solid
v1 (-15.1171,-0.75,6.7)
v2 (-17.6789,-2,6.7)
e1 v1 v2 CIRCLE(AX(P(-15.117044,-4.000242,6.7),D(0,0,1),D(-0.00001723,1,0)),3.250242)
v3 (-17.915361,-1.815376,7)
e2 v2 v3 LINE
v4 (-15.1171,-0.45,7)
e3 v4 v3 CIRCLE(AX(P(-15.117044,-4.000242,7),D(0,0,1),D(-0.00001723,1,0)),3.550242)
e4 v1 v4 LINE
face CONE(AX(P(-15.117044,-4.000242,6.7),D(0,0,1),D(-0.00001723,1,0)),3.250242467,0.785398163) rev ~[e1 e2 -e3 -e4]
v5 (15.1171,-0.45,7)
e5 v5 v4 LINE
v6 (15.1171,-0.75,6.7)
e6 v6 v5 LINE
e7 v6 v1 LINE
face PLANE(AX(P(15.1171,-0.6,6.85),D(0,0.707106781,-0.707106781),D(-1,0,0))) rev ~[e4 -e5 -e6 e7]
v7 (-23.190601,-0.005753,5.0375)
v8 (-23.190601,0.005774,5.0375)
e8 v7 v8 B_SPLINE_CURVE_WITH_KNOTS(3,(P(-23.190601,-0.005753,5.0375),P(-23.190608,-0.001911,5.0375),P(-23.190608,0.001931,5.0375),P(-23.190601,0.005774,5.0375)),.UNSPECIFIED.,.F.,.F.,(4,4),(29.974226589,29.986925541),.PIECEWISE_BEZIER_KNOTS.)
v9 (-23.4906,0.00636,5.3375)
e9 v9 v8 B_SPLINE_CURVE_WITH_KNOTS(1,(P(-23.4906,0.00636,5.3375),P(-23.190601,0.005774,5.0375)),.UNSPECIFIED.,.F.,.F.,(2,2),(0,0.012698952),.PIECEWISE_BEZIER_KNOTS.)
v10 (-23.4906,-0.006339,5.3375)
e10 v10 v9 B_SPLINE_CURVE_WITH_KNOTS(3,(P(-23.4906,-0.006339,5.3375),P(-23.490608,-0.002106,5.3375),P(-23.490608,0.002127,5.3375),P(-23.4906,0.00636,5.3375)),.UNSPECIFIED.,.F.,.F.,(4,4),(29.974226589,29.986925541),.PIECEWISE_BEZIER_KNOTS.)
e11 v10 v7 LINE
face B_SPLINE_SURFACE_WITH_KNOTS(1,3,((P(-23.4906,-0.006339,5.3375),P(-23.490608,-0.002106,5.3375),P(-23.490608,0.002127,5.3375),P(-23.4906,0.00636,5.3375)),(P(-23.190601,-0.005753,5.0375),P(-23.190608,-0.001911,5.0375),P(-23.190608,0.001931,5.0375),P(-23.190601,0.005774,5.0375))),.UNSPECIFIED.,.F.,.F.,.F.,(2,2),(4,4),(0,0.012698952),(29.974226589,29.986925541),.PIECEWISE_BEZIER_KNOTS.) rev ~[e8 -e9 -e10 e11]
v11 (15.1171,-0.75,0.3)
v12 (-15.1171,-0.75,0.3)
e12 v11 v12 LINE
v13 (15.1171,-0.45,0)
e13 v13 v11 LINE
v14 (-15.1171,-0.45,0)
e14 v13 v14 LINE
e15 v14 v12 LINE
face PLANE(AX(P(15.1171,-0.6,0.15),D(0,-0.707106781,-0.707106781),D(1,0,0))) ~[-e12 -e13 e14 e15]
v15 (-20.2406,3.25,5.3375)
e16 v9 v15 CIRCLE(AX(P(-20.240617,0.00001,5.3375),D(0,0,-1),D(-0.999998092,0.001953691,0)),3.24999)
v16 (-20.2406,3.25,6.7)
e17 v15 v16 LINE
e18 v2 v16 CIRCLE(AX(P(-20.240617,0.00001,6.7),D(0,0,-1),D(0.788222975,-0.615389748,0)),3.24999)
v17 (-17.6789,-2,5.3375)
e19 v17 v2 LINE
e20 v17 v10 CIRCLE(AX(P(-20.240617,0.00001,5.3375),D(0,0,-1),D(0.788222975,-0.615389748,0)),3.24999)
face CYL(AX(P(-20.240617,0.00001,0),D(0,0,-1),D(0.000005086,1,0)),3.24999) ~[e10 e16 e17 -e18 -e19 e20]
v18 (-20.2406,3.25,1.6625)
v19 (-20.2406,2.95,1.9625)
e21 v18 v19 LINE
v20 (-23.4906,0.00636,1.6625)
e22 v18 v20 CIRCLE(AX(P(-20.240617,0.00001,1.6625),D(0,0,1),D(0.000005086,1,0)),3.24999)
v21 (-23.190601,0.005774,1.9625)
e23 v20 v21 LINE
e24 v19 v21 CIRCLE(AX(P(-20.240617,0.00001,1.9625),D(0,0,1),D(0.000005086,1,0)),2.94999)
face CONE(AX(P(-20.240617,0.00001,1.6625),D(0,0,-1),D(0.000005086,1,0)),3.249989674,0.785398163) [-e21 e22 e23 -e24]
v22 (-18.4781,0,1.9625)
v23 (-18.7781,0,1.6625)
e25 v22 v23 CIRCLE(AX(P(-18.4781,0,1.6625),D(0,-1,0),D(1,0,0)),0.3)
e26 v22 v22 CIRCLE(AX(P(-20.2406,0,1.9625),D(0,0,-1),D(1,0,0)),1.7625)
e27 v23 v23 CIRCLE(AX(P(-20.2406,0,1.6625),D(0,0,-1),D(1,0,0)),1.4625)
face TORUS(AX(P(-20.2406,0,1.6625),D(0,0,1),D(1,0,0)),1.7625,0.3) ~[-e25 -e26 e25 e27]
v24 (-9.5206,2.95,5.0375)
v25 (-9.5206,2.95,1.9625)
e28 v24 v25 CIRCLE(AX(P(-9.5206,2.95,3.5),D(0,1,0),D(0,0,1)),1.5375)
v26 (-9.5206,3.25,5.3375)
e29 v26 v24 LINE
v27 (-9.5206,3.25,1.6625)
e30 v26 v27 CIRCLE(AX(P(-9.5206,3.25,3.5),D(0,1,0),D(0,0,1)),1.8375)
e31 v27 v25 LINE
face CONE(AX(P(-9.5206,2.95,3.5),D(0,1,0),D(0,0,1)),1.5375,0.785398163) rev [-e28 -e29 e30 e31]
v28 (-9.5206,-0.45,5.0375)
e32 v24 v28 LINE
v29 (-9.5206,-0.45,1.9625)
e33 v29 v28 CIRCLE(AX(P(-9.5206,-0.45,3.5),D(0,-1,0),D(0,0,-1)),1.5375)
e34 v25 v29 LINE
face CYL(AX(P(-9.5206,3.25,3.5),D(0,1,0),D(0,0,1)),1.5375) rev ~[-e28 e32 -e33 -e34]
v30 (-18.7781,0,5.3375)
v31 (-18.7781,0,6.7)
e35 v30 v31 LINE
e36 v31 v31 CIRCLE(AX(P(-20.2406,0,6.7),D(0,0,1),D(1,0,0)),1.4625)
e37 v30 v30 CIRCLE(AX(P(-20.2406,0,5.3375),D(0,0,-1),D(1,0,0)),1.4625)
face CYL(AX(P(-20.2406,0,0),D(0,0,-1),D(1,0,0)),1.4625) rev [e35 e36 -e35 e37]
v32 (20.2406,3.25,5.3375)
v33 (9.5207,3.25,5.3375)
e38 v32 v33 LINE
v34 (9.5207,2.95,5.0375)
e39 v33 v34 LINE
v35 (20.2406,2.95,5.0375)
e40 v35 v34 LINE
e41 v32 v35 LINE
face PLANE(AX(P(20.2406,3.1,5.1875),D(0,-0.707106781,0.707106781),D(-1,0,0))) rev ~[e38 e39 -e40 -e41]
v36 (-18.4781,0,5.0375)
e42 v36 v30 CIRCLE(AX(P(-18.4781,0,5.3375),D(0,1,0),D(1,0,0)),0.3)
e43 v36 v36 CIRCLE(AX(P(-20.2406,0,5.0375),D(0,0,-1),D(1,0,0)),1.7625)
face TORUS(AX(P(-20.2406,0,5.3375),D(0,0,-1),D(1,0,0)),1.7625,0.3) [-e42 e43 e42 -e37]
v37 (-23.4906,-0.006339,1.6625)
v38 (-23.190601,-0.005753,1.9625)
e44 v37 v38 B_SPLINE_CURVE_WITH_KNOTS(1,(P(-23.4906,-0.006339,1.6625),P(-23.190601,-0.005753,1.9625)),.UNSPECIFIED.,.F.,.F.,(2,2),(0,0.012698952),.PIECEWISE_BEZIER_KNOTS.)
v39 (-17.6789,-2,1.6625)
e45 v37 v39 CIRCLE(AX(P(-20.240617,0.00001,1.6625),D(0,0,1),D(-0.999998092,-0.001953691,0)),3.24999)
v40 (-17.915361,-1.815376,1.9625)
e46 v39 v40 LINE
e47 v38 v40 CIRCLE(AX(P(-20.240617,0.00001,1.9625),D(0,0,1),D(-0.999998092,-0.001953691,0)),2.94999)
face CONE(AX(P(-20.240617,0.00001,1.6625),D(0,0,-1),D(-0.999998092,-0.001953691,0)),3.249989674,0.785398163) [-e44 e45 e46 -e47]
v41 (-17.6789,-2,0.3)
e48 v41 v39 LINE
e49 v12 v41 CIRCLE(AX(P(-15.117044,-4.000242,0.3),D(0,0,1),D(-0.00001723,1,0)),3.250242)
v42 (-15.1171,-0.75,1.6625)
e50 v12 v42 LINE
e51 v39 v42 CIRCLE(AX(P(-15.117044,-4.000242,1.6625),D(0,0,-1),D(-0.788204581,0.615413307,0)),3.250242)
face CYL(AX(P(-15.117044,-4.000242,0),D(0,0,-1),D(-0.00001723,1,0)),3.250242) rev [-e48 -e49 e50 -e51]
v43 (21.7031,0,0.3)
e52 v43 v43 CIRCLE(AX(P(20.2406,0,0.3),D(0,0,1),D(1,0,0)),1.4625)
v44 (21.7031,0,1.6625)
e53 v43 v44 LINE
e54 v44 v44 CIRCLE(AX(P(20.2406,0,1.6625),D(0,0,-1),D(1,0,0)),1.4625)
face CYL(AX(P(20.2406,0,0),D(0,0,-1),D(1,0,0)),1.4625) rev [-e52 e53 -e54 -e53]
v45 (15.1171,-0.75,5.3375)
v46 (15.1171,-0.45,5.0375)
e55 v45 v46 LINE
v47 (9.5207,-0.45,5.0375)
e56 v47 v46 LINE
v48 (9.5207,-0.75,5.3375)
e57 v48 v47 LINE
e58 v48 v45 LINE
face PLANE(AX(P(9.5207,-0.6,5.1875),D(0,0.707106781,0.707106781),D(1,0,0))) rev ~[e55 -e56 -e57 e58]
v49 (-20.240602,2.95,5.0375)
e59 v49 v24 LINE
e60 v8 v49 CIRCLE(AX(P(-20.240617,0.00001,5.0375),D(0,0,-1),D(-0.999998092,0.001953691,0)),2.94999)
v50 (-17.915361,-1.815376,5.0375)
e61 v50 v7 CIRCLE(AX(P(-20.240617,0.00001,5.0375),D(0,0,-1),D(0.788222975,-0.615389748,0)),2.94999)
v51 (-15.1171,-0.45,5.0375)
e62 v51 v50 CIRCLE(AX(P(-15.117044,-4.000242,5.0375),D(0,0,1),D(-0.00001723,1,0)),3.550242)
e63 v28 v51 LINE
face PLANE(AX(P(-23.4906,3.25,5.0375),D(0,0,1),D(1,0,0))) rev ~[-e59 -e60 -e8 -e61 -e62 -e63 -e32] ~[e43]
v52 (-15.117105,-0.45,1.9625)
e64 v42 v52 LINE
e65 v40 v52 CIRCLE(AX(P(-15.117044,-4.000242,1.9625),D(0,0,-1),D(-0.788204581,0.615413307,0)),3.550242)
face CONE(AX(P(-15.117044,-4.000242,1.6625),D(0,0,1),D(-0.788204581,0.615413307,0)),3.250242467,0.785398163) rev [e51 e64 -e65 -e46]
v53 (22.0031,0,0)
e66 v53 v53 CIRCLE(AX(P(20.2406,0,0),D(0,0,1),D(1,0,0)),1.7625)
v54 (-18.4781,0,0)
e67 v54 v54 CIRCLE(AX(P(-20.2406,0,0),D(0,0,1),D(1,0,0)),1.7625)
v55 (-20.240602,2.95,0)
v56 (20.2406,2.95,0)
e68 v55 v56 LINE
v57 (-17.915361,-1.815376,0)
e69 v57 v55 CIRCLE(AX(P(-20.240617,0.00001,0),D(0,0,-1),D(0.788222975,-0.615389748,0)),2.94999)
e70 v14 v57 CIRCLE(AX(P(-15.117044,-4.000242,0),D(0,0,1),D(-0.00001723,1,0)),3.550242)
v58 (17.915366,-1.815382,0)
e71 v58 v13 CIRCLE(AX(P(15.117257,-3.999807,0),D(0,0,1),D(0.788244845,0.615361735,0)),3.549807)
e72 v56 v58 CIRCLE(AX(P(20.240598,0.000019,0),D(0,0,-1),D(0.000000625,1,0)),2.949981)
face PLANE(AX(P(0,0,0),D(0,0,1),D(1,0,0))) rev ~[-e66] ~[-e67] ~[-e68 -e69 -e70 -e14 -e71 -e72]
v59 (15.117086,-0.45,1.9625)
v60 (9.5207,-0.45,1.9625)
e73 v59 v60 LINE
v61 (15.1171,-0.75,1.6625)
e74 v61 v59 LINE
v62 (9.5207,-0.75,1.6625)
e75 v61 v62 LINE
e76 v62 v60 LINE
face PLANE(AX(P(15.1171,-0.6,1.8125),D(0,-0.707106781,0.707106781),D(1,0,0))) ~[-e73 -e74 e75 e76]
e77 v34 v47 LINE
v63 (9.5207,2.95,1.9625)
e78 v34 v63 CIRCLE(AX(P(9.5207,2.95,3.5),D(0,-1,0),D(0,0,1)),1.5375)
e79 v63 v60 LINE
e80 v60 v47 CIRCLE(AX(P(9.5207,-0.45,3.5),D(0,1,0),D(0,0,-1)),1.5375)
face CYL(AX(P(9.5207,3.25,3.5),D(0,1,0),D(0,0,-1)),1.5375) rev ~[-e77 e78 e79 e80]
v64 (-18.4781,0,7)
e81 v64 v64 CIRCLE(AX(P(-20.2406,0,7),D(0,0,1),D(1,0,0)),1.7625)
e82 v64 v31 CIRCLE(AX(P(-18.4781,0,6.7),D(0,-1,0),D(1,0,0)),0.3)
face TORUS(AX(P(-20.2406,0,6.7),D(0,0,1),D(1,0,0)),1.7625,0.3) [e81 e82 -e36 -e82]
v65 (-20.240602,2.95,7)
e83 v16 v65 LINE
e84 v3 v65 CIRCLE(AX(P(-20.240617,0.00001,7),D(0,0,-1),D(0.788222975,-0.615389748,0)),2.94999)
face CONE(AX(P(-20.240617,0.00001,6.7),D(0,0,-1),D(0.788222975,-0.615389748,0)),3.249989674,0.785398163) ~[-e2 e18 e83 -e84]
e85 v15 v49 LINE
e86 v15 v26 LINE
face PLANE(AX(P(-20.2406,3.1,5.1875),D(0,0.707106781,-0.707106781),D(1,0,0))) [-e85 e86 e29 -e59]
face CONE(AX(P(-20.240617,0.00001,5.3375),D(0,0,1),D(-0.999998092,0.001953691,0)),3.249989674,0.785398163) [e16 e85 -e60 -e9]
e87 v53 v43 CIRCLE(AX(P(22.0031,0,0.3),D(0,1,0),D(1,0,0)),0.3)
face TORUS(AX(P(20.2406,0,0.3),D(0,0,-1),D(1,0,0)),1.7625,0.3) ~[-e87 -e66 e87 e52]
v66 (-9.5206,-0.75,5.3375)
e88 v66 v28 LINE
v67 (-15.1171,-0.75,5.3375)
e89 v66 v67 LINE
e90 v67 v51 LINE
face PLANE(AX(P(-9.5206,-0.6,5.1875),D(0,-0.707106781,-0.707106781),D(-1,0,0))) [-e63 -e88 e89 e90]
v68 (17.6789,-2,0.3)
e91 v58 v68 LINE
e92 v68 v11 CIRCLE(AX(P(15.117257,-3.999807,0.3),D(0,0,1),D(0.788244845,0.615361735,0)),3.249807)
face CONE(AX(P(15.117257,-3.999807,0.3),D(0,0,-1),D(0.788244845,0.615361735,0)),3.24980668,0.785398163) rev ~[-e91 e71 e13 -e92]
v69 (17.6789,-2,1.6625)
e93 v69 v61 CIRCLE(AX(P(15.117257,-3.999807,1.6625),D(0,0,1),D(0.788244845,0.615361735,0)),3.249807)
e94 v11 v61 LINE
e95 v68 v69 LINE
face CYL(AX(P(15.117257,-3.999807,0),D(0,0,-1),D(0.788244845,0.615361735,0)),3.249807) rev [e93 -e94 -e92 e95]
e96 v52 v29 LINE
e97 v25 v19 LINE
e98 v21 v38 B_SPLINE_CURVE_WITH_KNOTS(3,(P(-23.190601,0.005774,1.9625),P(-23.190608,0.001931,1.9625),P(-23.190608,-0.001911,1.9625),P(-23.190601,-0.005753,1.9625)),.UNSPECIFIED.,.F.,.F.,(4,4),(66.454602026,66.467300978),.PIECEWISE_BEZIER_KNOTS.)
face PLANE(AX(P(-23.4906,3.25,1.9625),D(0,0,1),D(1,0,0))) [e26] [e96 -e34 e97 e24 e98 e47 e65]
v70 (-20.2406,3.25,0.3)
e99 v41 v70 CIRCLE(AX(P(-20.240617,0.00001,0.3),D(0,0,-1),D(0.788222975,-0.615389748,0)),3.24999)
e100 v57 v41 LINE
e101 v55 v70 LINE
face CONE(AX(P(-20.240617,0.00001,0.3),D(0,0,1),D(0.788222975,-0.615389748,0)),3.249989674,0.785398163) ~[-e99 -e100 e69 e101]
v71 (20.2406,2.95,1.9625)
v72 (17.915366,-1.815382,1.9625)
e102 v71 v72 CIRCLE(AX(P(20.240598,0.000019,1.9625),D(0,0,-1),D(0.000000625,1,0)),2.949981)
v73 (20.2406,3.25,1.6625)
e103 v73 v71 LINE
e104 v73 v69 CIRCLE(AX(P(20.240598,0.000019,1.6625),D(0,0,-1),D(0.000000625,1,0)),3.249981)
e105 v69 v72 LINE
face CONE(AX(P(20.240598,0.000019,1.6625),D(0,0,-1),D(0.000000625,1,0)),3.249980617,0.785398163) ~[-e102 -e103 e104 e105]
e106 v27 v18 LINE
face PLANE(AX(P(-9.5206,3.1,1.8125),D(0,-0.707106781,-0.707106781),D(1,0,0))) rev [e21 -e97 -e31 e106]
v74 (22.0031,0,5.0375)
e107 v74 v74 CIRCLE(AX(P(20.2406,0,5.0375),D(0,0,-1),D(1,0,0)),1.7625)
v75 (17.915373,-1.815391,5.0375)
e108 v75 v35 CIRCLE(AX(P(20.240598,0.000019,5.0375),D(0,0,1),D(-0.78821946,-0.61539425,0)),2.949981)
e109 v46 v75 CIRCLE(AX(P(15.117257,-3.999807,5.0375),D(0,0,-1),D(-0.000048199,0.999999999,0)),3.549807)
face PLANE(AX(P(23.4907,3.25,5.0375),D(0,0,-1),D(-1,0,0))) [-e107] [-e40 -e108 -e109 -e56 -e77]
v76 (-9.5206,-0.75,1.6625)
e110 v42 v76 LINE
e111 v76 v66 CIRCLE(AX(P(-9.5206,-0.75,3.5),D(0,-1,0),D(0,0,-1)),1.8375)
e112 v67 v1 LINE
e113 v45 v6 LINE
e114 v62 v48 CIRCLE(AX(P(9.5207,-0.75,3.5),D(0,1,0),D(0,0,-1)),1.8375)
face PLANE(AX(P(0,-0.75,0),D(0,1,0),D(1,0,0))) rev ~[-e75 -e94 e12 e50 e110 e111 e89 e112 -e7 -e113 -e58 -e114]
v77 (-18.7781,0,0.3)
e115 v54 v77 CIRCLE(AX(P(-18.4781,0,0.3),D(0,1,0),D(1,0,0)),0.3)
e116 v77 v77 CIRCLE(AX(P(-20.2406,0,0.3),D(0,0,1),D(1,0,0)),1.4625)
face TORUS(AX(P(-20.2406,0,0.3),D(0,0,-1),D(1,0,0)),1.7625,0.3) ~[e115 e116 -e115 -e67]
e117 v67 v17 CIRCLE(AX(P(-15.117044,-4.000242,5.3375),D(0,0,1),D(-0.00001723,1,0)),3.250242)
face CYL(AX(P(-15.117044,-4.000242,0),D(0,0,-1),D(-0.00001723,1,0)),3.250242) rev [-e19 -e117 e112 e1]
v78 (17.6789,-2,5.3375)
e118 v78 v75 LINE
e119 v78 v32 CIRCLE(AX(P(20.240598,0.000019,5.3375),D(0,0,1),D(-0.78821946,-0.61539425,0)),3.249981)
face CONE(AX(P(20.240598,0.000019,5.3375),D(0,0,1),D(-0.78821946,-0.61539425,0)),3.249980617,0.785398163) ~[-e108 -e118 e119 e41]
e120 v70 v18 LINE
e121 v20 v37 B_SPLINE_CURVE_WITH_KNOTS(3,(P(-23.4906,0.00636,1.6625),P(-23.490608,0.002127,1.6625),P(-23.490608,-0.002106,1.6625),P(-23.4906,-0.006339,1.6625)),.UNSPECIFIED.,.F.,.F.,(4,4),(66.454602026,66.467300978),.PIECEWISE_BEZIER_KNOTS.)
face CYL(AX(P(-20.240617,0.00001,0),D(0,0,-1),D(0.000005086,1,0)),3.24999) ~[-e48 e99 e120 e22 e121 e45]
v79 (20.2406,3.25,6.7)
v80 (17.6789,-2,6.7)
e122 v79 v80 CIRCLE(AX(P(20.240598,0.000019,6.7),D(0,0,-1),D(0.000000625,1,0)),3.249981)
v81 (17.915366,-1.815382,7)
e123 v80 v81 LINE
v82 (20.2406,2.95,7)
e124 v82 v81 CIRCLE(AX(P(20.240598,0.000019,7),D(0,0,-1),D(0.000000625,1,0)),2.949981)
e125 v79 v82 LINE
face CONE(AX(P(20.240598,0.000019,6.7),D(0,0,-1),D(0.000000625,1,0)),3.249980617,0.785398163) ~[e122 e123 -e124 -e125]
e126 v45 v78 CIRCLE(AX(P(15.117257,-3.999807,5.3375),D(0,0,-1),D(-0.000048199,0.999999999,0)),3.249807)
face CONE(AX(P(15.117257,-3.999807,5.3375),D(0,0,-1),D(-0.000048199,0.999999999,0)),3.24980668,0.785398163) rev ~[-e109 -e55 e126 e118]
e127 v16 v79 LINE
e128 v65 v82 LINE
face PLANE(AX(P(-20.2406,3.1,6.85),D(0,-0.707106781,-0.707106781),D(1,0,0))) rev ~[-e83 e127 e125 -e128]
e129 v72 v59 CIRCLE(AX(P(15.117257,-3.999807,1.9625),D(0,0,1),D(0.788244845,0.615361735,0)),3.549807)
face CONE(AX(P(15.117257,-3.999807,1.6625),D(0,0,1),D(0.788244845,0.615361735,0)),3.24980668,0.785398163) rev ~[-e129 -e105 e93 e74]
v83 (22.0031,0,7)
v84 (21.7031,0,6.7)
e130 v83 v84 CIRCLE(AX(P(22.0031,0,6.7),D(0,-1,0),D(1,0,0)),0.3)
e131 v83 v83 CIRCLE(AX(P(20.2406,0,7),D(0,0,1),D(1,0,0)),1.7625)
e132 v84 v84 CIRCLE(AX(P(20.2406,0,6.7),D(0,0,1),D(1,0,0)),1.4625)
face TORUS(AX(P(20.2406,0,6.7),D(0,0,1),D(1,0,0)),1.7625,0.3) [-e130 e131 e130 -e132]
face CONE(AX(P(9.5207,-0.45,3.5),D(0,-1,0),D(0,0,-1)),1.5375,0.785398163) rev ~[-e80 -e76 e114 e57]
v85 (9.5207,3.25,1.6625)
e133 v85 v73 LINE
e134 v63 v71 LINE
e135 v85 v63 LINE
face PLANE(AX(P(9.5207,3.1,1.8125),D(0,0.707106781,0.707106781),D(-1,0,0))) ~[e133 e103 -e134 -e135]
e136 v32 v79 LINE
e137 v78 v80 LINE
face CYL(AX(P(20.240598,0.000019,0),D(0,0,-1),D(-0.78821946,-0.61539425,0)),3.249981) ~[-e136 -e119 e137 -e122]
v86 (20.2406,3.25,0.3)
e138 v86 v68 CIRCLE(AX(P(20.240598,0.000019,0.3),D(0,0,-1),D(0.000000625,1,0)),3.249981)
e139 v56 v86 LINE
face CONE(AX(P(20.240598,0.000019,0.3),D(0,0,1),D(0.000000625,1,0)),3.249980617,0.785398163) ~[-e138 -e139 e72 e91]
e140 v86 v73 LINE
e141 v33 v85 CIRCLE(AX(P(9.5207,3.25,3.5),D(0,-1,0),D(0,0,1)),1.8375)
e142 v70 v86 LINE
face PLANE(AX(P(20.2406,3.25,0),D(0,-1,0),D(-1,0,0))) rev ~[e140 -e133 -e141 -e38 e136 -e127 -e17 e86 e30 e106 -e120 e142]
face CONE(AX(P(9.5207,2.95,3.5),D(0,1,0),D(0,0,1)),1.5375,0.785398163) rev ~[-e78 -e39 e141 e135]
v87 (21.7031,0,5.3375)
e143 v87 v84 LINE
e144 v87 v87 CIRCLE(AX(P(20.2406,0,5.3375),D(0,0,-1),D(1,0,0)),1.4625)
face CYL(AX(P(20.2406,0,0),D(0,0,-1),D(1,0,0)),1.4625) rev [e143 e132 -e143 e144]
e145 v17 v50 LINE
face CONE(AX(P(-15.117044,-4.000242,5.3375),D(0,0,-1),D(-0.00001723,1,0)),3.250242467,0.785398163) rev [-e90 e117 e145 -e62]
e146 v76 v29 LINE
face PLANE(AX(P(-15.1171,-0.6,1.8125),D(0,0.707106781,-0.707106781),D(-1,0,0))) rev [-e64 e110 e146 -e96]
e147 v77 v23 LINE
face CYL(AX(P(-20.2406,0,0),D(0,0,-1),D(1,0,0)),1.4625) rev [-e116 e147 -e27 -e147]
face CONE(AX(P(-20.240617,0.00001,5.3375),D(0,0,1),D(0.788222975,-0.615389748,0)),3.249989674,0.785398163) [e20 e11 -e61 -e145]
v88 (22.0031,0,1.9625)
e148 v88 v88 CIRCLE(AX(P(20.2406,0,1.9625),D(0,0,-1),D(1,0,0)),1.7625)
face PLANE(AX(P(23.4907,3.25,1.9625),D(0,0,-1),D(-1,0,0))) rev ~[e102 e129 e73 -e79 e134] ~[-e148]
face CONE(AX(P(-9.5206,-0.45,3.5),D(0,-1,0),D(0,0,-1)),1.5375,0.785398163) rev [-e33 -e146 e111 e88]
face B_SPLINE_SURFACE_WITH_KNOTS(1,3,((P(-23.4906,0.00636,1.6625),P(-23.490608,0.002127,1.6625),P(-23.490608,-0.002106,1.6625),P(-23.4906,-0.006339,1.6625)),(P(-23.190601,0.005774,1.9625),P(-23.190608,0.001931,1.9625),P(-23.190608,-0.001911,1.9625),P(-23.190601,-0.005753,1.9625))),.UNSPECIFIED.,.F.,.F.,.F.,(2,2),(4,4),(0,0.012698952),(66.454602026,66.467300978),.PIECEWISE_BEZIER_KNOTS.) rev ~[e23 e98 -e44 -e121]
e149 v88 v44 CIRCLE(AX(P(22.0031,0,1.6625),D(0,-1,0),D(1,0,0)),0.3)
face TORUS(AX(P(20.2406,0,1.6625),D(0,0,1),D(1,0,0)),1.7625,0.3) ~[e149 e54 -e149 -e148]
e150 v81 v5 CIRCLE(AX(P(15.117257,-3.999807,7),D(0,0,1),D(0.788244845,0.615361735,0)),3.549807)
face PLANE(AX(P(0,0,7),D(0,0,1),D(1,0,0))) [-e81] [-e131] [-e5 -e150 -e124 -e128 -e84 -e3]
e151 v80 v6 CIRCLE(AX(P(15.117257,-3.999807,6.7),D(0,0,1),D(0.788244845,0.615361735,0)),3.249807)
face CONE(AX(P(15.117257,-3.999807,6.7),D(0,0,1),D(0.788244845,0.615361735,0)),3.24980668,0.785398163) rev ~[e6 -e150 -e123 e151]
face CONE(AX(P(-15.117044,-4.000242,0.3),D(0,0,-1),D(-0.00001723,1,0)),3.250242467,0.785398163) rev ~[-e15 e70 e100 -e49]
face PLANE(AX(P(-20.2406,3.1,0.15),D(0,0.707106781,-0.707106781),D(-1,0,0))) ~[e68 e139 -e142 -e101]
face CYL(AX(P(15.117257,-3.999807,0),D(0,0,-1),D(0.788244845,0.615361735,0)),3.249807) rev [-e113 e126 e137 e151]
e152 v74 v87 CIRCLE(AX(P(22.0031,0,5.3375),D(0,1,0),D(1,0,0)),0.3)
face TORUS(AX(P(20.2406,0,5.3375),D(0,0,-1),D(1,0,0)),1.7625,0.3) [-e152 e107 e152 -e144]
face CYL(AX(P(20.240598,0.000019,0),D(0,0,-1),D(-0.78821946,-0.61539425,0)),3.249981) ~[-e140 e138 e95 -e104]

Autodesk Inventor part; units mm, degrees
ref_plane "YZ Plane" through (0, 0, 0) normal (1, 0, 0) x (0, 1, 0)
ref_plane "XZ Plane" through (0, 0, 0) normal (0, 1, 0) x (-1, 0, 0)
ref_plane "XY Plane" through (0, 0, 0) normal (0, 0, 1) x (1, 0, 0)
sketch "Sketch1" plane through (0, 0, 0) normal (0, 0, 1) x (1, 0, 0)
  circle A0 centre (20.2406, 0) radius 1.4625
  line L0 (20.2406, 3.25) -> (-2.6872, 3.25)
  line L1 (-446494.9011, 0) -> (446494.9011, 0) construction
  line L2 (0, -0.75) -> (15.1171, -0.75)
  arc A1 (17.6789, -2) -> (20.2406, 3.25) centre (20.2406, 0) ccw
  arc A2 (17.6789, -2) -> (15.1171, -0.75) centre (15.1171, -4) ccw
  line L3 (0, -446500.8256) -> (0, 446500.0254) construction
  circle A3 centre (-20.2406, 0) radius 1.4625
  line L4 (-20.2406, 3.25) -> (-2.6872, 3.25)
  line L5 (446494.9011, 0) -> (-446494.9011, 0) construction
  line L6 (0, -0.75) -> (-15.1171, -0.75)
  arc A4 (-20.2406, 3.25) -> (-17.6789, -2) centre (-20.2406, 0) ccw
  arc A5 (-15.1171, -0.75) -> (-17.6789, -2) centre (-15.1171, -4) ccw
  point P0 (0, 0)
  dimension "d0" = 4
  dimension "d1" = 3.25
  dimension "d2" = 3.25
  dimension "d3" = 2.925
  dimension "d4" = 40.4813
extrude "Extrusion1" add sketch "Sketch1" along normal blind 7
ref_plane "Work Plane1" through (0, 0, 3.5) normal (0, 0, 1) x (1, 0, 0)
sketch "Sketch2" plane through (-20.2406, 3.25, 0) normal (0, 1, 0) x (1, 0, 0)
  line L0 (53.1275, -3.5) -> (-12.6463, -3.5) construction
  line L1 (43.7313, 0) -> (43.7313, -7) construction
  line L2 (43.7313, -1.9625) -> (29.7613, -1.9625)
  line L3 (43.7313, -5.0375) -> (29.7613, -5.0375)
  arc A0 (29.7613, -1.9625) -> (29.7613, -5.0375) centre (29.7613, -3.5) ccw
  line L4 (43.7313, -1.9625) -> (43.7313, -5.0375)
  line L5 (20.2406, 1.4) -> (20.2406, -8.4) construction
  line L6 (-3.25, -1.9625) -> (10.72, -1.9625)
  line L7 (-3.25, -5.0375) -> (10.72, -5.0375)
  arc A1 (10.72, -5.0375) -> (10.72, -1.9625) centre (10.72, -3.5) ccw
  line L8 (-3.25, -1.9625) -> (-3.25, -5.0375)
  point P0 (20.2406, 0)
  dimension "d7" = 3.075
  dimension "d9" = 13.97
extrude "Extrusion2" cut sketch "Sketch2" against normal through all
chamfer "Chamfer1" distance 0.3 angle 45 26 edges at (0, -0.75, 7) (16.5424, -1.0792, 7) (23.1615, -1.4252, 7) (0, 3.25, 7) (-23.1615, -1.4252, 7) (-16.5424, -1.0792, 7) (0, -0.75, 0) (16.5424, -1.0792, 0) (23.1615, -1.4252, 0) (0, 3.25, 0) (-23.1615, -1.4252, 0) (-16.5424, -1.0792, 0) (7.9831, -0.75, 3.5) (12.3189, -0.75, 5.0375) (16.5424, -1.0792, 5.0375) (23.1615, -1.4252, 5.0375) (23.1615, -1.4252, 1.9625) (16.5424, -1.0792, 1.9625) (12.3189, -0.75, 1.9625) (-16.5424, -1.0792, 1.9625) (-23.1615, -1.4252, 1.9625) (-14.8806, 3.25, 1.9625) (-7.9831, 3.25, 3.5) (-14.8806, 3.25, 5.0375) (-23.1615, -1.4252, 5.0375) (-16.5424, -1.0792, 5.0375)
fillet "Fillet1" radius 0.3 8 edges at (-21.7031, 0, 0) (-21.7031, 0, 1.9625) (-21.7031, 0, 5.0375) (-21.7031, 0, 7) (18.7781, 0, 5.0375) (18.7781, 0, 7) (18.7781, 0, 1.9625) (18.7781, 0, 0)
equation "\"d0\" = bar_thickness"
equation "\"d1\" = 0.5 * bar_diameter"
equation "\"d2\" = 0.5 * bar_diameter"
equation "\"d3\" = bore_press"
equation "\"d4\" = bar_act_length_ab"
equation "\"d5\" = bar_width"
equation "\"d7\" = hinge_thickness + finger_link_clearence"
equation "\"d10\" = hinge_thickness"
equation "\"d12\" = champfer"
equation "\"bar_length_bc\" = finger_part_B_length"
equation "\"hinge_thickness\" = 3"
equation "\"bar_diameter\" = 6.5"
equation "\"bore_clearance\" = 3.025"
equation "\"finger_width\" = 25"
equation "\"finger_thickness\" = 8"
equation "\"finger_part_A_length\" = 42.8625"
equation "\"finger_part_B_length\" = 28.575"
equation "\"finger_link_width\" = 3.5"
equation "\"finger_link_clearence\" = 0.075"
equation "\"tol\" = 0.5 * finger_link_clearence"
equation "\"link_tol\" = 0.254"
equation "\"bore_press\" = 2.925"
equation "\"bar_thickness\" = 4"
equation "\"hinge_dist_sym_plane\" = 4"
equation "\"hinge_act_length_c\" = 7.62"
equation "\"hinge_act_length_bc\" = 16.66875"
equation "\"hinge_act_length_ab\" = 11.049"
equation "\"hinge_act_length_a\" = 21.43125"
equation "\"hinge_guid_length_c\" = 9.525"
equation "\"hinge_guid_length_bc\" = 9.525"
equation "\"hinge_guid_length_ab\" = 17.145"
equation "\"hinge_guid_length_a\" = 17.145"
equation "\"bar_act_length_ab\" = 40.48125"
equation "\"bar_guid_length_ab\" = 43.275"
equation "\"bar_width\" = 7"
equation "\"champfer\" = 0.3"
equation "\"fillet\" = 0.4"
equation "\"dist_finger_BC\" = 56.5"
equation "\"gear_diameter\" = 14"
equation "\"hinge_point\" = 15"
properties part number "bar_act_ab"
